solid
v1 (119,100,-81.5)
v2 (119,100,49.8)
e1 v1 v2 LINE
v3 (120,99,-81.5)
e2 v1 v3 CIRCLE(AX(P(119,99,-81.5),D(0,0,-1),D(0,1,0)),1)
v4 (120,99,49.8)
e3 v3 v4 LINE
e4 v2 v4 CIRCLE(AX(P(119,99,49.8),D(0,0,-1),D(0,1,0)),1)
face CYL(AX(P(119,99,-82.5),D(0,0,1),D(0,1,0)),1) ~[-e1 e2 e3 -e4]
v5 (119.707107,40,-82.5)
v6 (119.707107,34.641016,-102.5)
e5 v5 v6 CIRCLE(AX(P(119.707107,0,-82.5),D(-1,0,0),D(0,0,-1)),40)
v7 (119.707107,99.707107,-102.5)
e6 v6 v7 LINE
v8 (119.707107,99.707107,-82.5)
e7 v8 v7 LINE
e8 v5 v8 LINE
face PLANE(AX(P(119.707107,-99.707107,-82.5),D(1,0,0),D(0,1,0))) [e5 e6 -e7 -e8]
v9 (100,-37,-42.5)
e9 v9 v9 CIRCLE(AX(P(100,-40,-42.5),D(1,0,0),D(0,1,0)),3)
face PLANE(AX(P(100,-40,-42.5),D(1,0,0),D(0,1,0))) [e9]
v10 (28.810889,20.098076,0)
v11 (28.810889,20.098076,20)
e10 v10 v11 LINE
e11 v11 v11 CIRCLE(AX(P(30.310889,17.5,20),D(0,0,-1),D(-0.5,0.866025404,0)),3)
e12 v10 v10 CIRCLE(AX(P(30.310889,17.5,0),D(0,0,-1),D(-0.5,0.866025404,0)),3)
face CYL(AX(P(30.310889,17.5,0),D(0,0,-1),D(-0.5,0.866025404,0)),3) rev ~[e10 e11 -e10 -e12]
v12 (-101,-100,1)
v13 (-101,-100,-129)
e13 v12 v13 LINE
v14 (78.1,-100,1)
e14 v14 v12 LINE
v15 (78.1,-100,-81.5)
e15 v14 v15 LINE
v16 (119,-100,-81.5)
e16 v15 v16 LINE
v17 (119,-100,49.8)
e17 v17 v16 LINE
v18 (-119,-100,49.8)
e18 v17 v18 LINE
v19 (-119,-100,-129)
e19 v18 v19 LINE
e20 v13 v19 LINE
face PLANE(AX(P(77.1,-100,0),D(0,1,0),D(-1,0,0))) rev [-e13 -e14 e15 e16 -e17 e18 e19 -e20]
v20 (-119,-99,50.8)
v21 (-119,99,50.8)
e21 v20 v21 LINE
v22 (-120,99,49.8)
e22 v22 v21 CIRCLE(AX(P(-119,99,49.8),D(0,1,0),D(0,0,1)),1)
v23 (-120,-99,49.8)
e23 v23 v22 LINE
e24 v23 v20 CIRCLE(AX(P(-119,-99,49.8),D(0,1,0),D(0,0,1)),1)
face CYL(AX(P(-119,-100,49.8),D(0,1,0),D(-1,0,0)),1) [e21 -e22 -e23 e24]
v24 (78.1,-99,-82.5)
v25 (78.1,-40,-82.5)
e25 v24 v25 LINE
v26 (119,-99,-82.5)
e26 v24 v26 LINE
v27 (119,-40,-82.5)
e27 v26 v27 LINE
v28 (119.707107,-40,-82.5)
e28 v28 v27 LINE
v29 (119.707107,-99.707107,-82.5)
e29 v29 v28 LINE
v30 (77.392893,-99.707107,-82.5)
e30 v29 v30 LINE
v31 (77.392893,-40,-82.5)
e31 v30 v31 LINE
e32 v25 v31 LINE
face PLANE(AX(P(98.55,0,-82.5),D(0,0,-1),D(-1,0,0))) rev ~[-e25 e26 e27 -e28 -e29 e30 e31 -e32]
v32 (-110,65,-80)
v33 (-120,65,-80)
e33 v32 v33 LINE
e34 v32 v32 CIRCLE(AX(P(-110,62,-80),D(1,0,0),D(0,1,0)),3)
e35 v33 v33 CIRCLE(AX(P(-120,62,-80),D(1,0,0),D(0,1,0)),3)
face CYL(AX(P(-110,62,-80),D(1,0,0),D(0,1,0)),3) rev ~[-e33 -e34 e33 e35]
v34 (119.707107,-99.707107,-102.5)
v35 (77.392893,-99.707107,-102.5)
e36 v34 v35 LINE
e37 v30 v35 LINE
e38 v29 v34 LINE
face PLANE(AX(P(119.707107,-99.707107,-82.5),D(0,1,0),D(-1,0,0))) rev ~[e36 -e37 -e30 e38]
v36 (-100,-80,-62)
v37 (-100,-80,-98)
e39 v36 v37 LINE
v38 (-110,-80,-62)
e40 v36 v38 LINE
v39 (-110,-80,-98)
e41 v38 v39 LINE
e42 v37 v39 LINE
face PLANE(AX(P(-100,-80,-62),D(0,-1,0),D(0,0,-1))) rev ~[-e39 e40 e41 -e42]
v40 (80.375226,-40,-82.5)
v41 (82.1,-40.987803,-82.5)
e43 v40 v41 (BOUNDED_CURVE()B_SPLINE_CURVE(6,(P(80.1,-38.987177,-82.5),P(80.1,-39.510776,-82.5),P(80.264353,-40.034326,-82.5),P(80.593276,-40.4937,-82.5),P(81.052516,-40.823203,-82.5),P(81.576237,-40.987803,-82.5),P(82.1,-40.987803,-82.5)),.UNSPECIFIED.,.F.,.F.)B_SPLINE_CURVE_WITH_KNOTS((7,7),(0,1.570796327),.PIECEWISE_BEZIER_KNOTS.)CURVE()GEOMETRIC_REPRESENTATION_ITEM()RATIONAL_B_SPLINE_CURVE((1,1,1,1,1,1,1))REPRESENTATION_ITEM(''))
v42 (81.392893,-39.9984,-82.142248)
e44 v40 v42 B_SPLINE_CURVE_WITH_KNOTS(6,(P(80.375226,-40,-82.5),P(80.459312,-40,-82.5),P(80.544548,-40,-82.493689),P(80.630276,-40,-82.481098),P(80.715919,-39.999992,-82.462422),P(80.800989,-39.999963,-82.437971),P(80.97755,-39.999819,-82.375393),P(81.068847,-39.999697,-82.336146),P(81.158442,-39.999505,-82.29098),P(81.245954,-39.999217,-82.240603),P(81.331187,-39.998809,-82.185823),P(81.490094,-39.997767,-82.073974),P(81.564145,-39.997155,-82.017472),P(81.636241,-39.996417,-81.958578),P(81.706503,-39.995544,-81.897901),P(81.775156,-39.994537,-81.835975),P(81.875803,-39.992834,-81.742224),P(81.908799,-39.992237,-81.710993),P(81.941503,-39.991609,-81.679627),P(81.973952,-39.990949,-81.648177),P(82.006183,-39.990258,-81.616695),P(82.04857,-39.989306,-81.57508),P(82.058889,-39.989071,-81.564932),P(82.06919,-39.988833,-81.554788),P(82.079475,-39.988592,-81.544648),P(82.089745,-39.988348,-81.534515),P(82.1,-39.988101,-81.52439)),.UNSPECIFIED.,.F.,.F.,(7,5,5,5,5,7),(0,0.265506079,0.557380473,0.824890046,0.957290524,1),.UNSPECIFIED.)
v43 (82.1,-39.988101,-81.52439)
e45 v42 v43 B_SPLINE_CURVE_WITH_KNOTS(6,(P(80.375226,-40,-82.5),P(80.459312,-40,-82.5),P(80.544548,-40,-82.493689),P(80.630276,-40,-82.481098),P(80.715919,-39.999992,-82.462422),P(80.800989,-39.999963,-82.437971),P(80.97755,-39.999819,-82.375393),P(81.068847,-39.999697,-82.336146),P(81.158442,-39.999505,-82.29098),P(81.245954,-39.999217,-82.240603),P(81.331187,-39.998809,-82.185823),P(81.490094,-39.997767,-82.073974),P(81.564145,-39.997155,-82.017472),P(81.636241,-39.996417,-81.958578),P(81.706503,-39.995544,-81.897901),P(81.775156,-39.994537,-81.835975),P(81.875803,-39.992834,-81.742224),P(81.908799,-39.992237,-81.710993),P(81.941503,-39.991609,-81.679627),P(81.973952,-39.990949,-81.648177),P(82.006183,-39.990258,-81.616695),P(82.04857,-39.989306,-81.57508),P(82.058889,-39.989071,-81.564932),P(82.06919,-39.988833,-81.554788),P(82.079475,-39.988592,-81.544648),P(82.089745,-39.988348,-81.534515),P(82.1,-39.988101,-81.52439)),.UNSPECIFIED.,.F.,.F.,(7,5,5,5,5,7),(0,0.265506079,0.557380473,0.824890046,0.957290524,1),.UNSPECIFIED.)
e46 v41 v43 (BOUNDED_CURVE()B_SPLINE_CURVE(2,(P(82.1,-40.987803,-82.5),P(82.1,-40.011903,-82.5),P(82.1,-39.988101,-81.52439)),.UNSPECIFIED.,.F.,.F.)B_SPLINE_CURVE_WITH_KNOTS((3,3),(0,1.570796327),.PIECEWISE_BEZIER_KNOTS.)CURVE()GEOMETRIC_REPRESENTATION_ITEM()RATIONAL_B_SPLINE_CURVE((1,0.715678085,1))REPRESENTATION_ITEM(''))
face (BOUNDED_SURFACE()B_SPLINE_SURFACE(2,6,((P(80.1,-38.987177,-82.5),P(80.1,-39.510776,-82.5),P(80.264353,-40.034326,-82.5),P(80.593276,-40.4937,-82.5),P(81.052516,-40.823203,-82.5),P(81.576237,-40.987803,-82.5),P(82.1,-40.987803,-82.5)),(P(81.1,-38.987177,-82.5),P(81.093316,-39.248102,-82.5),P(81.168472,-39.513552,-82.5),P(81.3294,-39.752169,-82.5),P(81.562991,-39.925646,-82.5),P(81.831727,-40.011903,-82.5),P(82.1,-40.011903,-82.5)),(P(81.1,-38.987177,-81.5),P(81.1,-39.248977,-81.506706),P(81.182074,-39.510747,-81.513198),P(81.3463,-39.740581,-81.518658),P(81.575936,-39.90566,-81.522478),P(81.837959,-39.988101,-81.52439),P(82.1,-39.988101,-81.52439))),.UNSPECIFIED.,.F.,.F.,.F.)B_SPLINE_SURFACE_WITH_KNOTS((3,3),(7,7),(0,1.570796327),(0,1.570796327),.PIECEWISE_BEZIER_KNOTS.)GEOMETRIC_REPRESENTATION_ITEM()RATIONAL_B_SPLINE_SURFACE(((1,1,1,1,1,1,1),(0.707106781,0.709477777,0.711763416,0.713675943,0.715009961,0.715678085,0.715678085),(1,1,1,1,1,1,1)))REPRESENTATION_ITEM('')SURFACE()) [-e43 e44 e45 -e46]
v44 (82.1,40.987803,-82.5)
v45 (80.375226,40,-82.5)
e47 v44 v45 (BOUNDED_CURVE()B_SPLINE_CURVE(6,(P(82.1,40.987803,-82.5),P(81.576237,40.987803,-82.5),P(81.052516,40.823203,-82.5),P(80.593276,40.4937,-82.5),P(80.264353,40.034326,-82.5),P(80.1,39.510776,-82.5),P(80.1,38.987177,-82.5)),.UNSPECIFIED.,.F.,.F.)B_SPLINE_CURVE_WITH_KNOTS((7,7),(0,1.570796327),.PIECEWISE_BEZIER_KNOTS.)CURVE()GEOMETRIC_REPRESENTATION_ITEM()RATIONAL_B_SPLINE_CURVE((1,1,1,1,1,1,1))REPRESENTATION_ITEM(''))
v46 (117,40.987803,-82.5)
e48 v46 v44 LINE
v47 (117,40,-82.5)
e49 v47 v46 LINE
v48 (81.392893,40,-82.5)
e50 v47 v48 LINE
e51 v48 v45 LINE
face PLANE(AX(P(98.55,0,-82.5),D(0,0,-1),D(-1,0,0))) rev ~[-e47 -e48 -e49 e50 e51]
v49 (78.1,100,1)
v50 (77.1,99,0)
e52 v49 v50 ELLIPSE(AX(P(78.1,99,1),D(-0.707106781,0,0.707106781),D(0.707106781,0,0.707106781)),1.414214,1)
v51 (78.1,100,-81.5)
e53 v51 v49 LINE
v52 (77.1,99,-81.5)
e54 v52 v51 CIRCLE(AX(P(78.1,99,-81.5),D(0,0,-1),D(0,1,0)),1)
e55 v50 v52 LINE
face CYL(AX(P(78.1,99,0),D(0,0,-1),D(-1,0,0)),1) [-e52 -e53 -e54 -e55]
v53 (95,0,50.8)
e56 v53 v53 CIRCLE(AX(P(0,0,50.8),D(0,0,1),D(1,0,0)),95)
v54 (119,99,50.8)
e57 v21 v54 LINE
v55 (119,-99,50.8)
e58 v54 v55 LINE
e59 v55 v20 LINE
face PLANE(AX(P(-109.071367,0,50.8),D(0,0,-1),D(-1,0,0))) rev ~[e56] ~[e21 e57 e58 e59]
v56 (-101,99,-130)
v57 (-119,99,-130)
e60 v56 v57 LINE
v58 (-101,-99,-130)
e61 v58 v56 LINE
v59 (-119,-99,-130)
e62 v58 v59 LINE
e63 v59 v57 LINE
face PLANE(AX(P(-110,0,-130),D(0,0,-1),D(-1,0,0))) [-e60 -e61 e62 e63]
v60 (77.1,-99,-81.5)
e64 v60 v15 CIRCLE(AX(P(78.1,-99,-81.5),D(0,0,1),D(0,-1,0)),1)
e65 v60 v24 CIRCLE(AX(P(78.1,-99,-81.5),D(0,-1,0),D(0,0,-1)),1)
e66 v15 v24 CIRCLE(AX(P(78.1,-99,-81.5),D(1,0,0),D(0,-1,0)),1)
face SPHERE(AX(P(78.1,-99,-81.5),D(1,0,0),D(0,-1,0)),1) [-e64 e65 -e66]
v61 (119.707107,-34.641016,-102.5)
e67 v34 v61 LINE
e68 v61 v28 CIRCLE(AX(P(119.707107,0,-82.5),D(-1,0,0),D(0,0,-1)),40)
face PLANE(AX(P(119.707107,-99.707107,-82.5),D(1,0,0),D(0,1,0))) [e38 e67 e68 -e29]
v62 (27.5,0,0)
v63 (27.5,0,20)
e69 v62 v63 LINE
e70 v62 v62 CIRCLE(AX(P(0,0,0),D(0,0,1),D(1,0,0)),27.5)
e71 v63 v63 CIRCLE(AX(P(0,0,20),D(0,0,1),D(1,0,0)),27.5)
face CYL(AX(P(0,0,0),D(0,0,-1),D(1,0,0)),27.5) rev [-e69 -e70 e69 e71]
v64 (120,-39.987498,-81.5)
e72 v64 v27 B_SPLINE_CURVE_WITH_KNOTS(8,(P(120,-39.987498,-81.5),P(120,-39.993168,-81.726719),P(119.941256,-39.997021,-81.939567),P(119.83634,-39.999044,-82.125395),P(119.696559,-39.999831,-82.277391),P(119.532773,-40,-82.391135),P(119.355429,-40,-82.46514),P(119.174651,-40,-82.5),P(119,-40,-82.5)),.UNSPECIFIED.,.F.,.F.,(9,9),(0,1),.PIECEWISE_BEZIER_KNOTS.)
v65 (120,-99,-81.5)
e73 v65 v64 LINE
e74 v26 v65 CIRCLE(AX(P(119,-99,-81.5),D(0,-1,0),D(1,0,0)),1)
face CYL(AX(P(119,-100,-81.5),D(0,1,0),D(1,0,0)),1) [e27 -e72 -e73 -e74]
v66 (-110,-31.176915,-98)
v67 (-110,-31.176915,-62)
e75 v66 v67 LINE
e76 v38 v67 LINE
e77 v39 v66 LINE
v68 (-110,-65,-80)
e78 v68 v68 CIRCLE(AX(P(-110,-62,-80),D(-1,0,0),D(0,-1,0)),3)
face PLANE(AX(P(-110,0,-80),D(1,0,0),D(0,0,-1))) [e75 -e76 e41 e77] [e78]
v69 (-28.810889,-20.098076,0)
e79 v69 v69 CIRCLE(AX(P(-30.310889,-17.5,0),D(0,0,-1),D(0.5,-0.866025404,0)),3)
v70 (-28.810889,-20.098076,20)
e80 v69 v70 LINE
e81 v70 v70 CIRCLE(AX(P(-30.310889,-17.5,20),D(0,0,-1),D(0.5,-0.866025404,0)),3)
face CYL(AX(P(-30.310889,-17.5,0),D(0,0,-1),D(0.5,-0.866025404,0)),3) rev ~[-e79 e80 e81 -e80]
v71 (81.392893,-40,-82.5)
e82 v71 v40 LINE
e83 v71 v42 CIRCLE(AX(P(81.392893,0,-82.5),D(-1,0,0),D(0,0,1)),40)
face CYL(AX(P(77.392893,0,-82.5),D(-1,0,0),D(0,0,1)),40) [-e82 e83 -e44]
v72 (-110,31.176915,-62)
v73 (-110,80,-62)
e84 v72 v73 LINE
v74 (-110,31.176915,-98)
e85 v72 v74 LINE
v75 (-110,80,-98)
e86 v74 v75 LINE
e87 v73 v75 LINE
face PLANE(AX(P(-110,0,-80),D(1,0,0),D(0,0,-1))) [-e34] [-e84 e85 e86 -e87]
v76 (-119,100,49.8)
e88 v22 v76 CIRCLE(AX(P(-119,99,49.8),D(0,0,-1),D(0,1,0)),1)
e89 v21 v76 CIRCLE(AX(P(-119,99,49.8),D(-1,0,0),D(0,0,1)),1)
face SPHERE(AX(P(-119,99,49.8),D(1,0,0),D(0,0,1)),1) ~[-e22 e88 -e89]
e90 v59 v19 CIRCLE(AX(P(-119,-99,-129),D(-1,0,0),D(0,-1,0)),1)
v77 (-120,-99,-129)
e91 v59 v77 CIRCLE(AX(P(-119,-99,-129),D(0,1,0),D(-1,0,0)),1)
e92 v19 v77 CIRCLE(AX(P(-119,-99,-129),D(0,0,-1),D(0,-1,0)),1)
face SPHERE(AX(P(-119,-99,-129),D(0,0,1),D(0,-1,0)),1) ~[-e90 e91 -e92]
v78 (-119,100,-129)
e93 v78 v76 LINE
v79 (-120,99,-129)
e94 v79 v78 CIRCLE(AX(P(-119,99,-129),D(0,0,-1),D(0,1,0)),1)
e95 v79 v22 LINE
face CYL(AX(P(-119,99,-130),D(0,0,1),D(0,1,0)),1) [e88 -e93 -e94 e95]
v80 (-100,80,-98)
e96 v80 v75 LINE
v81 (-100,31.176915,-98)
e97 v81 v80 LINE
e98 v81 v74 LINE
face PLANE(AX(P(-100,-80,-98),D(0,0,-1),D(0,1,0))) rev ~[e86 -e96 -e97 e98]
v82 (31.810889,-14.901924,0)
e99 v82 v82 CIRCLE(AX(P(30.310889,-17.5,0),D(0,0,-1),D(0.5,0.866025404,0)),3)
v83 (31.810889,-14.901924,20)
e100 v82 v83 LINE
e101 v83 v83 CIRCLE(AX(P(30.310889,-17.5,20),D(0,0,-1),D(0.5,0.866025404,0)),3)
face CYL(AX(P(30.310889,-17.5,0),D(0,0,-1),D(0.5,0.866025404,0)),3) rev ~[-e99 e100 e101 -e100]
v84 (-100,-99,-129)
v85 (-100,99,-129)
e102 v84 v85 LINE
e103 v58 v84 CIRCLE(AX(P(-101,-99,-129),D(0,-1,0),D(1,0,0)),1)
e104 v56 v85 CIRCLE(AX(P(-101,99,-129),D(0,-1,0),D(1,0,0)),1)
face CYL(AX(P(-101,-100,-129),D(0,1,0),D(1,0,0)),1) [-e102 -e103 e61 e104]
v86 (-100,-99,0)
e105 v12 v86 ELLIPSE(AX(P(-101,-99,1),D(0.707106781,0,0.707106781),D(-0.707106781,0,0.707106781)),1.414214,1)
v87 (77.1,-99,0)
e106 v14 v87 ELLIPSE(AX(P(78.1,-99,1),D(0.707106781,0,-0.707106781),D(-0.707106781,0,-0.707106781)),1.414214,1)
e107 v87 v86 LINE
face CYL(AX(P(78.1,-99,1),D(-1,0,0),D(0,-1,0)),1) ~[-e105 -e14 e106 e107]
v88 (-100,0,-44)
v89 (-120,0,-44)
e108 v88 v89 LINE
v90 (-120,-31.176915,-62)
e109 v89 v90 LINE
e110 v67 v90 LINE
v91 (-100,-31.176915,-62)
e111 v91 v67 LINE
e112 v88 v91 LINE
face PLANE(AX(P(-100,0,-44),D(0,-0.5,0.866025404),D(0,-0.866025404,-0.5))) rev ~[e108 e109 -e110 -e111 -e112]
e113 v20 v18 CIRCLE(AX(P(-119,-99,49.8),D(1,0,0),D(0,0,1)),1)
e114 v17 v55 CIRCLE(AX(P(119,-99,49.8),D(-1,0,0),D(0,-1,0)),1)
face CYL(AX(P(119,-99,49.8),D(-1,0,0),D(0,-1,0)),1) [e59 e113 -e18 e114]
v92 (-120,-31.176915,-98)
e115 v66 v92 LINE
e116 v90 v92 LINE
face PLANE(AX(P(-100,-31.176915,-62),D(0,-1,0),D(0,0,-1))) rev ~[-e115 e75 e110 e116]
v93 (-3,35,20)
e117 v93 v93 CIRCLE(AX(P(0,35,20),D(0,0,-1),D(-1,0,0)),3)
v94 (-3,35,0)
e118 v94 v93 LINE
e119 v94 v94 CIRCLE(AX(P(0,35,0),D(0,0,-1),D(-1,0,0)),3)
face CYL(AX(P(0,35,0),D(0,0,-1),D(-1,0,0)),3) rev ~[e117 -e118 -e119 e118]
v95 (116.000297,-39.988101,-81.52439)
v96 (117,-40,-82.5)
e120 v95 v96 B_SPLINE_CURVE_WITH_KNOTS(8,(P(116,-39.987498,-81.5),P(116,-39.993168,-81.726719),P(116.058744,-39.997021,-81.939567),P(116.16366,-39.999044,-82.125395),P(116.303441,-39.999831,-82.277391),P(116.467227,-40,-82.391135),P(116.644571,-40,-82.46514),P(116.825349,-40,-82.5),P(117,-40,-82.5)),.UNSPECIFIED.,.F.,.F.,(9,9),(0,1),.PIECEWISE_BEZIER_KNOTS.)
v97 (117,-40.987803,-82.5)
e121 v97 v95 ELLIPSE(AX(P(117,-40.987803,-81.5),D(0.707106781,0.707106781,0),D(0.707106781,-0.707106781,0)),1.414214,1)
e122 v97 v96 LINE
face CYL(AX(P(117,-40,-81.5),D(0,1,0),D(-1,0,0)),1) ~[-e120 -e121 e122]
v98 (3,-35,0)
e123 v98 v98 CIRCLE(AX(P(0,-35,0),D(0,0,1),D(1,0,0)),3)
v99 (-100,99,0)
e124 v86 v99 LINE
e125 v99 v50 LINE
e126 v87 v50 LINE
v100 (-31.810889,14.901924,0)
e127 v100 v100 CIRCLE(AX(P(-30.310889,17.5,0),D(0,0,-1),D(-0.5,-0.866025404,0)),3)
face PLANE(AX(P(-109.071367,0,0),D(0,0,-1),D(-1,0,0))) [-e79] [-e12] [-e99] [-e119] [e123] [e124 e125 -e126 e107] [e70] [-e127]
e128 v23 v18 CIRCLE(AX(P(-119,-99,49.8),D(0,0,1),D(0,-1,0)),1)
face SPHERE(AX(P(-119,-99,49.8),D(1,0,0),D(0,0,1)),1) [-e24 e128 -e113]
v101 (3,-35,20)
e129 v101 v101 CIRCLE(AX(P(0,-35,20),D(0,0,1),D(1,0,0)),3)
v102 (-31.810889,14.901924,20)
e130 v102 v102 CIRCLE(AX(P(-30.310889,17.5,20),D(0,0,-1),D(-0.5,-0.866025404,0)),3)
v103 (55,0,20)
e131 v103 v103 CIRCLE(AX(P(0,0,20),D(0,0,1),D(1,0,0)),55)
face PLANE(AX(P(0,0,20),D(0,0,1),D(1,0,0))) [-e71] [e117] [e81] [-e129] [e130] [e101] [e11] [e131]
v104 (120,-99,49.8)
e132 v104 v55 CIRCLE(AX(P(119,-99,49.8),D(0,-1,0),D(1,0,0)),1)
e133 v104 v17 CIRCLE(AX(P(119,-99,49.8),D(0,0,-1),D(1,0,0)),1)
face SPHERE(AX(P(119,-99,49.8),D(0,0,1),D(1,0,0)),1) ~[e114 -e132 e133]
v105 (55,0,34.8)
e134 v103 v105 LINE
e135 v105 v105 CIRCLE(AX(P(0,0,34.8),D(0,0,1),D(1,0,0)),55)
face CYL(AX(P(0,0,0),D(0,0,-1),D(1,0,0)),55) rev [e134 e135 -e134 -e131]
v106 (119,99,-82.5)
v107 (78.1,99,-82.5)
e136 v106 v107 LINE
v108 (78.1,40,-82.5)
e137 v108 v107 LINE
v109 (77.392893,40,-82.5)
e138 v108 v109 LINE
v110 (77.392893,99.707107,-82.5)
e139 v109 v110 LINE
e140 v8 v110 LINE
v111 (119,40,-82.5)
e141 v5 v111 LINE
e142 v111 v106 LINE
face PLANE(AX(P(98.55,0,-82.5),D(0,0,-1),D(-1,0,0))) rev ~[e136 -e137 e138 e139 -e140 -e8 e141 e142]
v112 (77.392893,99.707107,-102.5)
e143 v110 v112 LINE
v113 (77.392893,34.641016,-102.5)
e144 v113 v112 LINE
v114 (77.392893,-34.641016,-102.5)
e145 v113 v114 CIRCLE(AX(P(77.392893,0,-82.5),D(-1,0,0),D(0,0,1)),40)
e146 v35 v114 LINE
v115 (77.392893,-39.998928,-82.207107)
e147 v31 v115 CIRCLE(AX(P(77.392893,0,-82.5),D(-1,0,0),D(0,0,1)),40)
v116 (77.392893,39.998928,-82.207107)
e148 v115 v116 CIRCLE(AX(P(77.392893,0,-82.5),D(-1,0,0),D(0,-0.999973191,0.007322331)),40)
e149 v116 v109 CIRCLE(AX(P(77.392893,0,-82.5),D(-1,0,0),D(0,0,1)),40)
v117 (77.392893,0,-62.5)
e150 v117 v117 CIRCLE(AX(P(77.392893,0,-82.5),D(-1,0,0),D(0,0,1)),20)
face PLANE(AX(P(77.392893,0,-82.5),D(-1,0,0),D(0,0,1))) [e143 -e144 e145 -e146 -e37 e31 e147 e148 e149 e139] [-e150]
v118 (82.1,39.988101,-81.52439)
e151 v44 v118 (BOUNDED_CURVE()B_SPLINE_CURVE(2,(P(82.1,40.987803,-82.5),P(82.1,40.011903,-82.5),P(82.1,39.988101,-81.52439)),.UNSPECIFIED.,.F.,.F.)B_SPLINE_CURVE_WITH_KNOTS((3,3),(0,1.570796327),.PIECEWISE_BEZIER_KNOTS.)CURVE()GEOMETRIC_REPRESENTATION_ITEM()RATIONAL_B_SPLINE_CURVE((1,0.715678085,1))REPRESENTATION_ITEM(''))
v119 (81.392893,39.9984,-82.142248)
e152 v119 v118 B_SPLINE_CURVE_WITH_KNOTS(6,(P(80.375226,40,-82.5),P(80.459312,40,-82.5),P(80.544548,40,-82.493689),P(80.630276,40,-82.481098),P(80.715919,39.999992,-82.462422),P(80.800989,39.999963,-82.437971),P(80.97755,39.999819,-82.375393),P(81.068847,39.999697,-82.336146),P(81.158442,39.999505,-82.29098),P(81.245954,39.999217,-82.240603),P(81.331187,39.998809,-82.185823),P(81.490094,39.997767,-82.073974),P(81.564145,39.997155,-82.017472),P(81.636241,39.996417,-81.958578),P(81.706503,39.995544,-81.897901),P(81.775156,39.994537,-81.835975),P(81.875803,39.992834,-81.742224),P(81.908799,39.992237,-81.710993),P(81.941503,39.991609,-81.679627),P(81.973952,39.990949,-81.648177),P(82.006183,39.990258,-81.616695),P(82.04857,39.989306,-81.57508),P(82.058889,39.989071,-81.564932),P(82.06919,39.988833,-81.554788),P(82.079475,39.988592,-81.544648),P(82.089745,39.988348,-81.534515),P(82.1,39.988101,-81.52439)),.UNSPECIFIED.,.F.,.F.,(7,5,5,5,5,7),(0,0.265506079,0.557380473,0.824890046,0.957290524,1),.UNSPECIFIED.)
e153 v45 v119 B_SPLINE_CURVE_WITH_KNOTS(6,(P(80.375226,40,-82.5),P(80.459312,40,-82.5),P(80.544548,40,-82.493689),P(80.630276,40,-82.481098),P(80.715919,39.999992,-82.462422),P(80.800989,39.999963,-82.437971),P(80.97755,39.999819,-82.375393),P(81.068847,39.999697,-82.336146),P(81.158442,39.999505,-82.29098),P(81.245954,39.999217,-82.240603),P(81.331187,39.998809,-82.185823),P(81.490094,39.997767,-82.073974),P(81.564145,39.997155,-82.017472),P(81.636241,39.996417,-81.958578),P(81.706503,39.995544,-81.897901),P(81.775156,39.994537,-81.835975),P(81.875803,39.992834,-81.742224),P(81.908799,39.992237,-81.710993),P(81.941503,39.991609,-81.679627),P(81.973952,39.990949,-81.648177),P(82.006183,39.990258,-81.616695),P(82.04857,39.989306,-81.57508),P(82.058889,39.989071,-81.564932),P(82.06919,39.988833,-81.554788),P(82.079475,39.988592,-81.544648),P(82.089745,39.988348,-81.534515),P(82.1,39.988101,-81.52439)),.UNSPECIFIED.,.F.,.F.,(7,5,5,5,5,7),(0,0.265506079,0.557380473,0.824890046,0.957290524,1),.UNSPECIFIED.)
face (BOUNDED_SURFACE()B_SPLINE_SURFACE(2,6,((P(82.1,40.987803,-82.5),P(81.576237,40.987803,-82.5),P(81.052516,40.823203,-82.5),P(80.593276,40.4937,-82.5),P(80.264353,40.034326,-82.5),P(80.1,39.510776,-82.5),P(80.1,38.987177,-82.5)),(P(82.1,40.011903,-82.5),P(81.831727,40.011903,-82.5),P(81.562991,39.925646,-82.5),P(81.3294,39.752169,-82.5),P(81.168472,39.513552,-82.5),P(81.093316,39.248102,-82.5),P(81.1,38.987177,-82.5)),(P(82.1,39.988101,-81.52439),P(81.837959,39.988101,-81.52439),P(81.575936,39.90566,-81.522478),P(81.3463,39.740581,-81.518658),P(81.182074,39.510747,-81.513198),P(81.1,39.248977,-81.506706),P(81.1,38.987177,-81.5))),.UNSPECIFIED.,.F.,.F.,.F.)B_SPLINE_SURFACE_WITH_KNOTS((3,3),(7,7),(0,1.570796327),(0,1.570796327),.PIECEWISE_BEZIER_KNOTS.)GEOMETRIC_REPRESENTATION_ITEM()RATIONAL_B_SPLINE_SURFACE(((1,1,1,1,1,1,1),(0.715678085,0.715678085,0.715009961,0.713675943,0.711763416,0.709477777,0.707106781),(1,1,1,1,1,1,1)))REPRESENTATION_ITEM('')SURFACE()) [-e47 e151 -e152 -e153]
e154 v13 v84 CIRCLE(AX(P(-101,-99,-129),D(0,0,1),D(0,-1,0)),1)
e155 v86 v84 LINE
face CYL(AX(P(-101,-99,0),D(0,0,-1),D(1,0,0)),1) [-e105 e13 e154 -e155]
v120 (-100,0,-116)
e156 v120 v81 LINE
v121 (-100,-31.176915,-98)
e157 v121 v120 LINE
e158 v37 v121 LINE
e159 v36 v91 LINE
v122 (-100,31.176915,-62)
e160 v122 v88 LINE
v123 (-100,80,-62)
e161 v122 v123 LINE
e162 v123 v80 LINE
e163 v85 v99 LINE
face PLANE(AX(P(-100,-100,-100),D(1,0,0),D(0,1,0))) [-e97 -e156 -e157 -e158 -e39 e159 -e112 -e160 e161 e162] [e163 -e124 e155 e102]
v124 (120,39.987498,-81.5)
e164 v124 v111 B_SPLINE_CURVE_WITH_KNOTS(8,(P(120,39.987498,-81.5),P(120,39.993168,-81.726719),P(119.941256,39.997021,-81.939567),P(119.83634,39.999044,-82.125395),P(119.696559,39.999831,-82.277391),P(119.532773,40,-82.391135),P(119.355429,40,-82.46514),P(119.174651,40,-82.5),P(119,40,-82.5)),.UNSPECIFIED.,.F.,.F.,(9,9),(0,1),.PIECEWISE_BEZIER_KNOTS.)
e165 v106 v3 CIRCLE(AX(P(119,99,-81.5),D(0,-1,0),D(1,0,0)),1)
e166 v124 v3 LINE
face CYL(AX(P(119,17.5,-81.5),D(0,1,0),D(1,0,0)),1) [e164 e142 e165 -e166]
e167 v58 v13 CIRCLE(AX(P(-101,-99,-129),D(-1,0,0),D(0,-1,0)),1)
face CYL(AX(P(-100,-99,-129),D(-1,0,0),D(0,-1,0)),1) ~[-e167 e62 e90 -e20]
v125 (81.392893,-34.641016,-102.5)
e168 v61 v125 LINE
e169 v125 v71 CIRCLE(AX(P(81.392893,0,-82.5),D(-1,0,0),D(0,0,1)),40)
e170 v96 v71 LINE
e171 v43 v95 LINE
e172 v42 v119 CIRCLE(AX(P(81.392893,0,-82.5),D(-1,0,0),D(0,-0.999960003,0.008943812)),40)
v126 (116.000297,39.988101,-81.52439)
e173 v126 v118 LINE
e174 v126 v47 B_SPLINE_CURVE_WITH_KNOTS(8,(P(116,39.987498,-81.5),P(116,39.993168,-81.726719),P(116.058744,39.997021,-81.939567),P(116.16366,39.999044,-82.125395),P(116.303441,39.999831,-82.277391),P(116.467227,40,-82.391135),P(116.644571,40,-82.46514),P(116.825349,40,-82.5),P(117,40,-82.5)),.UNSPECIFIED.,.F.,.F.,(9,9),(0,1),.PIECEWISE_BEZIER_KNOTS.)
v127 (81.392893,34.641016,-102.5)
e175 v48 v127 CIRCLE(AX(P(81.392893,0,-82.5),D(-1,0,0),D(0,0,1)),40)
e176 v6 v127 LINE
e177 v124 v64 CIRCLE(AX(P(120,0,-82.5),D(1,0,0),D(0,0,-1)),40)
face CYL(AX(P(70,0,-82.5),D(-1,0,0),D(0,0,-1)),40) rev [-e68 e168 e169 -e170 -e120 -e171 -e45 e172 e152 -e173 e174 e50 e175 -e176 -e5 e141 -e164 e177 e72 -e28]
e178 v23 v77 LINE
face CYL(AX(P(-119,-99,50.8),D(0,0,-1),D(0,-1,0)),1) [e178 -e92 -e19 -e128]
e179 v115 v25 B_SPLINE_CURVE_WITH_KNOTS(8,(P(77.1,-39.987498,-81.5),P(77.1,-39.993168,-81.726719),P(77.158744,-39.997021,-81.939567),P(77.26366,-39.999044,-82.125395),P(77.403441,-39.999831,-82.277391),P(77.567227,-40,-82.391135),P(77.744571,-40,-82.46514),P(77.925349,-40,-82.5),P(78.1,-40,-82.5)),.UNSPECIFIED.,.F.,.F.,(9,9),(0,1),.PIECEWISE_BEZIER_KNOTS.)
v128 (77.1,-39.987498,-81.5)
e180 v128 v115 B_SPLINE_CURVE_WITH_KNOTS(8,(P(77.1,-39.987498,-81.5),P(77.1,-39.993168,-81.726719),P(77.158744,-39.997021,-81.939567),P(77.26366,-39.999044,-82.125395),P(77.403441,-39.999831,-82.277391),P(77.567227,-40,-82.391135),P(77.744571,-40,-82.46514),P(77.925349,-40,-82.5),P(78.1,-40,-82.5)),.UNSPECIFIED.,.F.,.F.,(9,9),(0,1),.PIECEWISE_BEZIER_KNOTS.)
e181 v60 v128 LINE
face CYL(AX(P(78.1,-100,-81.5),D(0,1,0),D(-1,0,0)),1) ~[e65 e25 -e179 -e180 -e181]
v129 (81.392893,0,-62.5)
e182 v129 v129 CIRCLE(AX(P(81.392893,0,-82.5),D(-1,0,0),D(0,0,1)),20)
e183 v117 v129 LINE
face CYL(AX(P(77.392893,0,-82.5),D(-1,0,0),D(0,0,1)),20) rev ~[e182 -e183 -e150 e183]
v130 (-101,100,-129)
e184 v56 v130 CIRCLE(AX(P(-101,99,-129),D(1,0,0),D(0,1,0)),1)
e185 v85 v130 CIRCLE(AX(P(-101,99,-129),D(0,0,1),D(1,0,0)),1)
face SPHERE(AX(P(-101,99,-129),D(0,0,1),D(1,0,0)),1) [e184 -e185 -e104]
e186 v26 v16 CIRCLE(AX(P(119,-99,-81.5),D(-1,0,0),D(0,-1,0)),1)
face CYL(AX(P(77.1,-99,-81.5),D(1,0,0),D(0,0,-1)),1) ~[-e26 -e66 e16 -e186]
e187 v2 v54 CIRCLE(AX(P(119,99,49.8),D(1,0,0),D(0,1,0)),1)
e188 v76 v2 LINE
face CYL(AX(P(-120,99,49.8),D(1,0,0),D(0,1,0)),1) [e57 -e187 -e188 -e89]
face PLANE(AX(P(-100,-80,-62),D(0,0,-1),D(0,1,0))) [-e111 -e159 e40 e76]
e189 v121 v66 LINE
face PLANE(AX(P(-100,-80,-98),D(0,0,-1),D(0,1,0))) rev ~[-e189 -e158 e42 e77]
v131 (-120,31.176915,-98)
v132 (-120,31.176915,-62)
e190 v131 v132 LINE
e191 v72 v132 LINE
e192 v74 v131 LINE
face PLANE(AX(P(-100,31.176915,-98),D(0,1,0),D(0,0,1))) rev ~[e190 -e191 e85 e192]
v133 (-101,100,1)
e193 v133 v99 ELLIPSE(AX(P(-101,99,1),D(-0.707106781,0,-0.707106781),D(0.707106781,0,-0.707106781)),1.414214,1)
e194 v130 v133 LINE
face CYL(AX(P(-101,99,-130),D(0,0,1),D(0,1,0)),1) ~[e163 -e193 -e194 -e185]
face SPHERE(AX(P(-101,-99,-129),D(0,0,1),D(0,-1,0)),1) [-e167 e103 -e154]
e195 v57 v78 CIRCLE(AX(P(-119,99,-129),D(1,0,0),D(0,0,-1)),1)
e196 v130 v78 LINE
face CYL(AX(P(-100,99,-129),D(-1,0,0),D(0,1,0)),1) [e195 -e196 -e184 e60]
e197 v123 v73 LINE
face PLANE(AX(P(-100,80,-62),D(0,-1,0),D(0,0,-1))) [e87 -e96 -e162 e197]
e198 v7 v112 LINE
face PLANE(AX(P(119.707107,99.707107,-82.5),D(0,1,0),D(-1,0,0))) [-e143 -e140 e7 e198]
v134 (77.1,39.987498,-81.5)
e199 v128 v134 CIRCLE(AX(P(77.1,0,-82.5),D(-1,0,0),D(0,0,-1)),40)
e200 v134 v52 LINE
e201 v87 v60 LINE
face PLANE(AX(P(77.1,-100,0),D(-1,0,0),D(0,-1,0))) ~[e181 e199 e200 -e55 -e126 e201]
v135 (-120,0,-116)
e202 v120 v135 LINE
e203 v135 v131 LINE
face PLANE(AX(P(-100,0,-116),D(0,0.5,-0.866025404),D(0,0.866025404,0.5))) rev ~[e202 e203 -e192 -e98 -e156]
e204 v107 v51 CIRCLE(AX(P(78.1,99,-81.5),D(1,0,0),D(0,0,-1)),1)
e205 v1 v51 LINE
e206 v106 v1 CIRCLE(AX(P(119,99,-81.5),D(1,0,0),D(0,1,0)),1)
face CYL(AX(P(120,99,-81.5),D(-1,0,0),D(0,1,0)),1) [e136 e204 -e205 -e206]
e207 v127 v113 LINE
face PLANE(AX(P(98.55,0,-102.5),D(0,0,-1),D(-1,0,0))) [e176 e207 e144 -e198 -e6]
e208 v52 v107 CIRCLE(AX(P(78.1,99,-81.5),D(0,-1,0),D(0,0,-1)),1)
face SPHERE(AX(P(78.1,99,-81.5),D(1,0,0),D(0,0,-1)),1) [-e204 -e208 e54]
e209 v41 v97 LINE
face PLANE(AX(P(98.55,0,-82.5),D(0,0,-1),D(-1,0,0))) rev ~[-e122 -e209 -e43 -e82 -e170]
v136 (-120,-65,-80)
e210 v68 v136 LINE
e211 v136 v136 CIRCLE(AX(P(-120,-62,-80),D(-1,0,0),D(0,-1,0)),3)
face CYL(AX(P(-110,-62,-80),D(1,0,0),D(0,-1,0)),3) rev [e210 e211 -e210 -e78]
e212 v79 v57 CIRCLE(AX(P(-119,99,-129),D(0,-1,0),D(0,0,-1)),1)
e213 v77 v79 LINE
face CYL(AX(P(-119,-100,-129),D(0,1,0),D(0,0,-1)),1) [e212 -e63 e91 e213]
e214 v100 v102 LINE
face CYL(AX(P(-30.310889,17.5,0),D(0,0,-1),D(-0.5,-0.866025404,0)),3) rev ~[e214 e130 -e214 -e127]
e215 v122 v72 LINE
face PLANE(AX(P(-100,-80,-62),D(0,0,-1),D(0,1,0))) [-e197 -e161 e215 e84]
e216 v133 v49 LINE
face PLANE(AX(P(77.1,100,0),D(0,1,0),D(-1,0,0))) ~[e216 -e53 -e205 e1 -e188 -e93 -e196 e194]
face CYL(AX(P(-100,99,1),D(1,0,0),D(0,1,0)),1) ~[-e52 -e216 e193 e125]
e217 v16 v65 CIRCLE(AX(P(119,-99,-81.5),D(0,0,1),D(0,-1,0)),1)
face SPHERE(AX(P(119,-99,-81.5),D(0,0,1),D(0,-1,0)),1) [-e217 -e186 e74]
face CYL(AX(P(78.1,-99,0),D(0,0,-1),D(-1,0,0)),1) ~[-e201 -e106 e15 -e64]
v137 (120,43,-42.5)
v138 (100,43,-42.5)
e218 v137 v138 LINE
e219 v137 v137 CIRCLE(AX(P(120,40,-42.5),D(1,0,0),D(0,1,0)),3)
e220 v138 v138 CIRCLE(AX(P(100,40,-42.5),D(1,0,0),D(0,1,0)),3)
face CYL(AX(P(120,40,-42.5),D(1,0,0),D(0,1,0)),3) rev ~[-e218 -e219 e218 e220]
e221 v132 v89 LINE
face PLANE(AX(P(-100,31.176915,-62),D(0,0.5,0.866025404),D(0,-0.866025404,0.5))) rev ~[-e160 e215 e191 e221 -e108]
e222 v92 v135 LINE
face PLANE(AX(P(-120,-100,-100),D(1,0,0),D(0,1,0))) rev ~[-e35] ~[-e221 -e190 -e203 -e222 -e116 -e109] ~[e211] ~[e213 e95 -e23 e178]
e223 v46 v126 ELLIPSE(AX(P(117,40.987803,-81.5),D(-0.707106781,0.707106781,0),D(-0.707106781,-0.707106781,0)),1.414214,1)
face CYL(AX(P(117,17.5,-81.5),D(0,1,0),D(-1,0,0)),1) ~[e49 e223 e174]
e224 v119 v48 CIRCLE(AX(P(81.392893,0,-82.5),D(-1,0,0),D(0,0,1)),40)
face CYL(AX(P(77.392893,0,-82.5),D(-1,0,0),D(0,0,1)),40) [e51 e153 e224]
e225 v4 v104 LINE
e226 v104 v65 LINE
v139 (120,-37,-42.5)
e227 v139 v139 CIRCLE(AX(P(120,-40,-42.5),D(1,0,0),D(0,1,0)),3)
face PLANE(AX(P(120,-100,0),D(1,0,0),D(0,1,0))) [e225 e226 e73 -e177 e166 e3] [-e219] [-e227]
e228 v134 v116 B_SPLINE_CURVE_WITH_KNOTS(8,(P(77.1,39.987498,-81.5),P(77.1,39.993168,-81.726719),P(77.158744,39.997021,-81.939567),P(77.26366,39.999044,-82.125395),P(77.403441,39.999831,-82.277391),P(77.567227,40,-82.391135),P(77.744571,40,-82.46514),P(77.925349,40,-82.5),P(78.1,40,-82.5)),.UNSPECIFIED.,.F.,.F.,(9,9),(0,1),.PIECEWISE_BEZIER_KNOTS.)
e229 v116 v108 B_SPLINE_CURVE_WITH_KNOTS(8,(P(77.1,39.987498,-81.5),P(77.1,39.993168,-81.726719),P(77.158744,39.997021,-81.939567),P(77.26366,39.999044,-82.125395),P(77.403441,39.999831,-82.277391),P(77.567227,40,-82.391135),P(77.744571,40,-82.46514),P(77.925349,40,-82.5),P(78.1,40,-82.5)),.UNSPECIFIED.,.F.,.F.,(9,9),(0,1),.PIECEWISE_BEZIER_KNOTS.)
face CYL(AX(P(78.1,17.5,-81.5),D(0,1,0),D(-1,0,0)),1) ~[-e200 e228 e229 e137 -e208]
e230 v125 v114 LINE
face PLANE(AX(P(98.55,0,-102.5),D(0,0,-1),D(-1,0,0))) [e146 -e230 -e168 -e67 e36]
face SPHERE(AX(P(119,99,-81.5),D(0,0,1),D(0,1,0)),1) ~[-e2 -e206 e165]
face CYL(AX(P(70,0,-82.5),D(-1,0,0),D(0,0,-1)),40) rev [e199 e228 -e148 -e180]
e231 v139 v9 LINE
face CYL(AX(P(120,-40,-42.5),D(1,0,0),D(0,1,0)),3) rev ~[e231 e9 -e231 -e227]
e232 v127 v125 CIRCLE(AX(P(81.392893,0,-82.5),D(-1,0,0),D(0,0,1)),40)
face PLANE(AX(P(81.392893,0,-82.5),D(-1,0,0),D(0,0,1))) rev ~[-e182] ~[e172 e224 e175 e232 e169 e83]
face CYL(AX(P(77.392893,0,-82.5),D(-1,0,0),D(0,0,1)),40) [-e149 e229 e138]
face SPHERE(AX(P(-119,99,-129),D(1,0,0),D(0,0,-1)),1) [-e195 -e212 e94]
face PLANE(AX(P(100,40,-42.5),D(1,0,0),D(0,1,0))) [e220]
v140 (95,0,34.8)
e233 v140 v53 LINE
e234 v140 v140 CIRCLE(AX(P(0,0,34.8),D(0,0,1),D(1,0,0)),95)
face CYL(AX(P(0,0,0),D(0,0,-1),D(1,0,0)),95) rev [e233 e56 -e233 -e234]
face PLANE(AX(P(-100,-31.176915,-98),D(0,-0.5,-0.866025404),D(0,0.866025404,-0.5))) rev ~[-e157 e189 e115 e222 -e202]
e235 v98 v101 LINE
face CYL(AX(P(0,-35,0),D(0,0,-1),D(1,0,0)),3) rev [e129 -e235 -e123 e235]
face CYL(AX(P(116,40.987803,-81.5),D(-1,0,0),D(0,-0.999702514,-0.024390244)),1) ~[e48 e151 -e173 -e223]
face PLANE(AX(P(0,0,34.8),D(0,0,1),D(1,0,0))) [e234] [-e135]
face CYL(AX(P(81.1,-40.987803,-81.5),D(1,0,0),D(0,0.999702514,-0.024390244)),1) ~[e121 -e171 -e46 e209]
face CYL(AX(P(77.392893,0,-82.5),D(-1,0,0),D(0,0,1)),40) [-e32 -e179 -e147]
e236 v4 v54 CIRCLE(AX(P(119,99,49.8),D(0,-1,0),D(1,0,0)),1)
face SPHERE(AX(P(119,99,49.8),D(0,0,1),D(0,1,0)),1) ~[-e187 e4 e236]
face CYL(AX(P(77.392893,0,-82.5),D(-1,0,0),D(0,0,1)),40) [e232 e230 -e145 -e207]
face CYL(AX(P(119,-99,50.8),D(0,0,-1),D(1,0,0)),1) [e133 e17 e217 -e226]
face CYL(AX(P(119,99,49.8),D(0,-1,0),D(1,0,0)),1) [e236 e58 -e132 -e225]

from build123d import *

# Parameters (mm, degrees)
SKETCH_1_R               = 100
SKETCH_1_R_2             = 95
EXTRUDE_1_DEPTH          = 50.8
SKETCH_2_R               = 95
SKETCH_2_R_2             = 55
EXTRUDE_2_DEPTH          = 34.8
SKETCH_4_R               = 55
SKETCH_4_R_2             = 3
SKETCH_4_R_3             = 27.5
EXTRUDE_3_DEPTH          = 20
SKETCH_5_R               = 3
CUT_EXTRUDE_2_DEPTH      = 20
PATTERN_CIRCULAR_3_COUNT = 6
EXTRUDE_4_DEPTH          = 50.8
SKETCH_7_W               = 80
SKETCH_7_H               = 200
EXTRUDE_5_DEPTH          = 100
SKETCH_8_W               = 80
SKETCH_8_H               = 200
CUT_EXTRUDE_3_DEPTH      = 100
CUT_EXTRUDE_5_DEPTH      = 218.118953572
CUT_EXTRUDE_5_DEPTH_BACK = 100
SKETCH_11_W              = 60
SKETCH_11_H              = 200
SKETCH_15_W              = 20
SKETCH_15_H              = 200
EXTRUDE_6_DEPTH          = 30
CUT_EXTRUDE_13_DEPTH     = 20
SKETCH_19_W              = 36
SKETCH_19_H              = 160
CUT_EXTRUDE_14_DEPTH     = 10
SKETCH_20_R              = 3
CUT_EXTRUDE_15_DEPTH     = 10
SKETCH_21_W              = 21.45
SKETCH_21_H              = 200
EXTRUDE_9_DEPTH          = 82.5
SKETCH_26_R              = 40
CUT_EXTRUDE_19_DEPTH     = 17.45
SKETCH_27_R              = 17.5
CUT_EXTRUDE_20_DEPTH     = 17.45
FILLET_1_R               = 1
FILLET_2_R               = 1
SKETCH_31_W              = 42.314213562
SKETCH_31_H              = 199.414213562
EXTRUDE_11_DEPTH         = 20
CUT_EXTRUDE_START        = -50
SKETCH_32_R              = 40
CUT_EXTRUDE_23_DEPTH     = 50
SKETCH_33_R              = 40
EXTRUDE_12_DEPTH         = 4
SKETCH_34_R              = 20
CUT_EXTRUDE_24_DEPTH     = 4
SKETCH_39_R              = 3
CUT_EXTRUDE_26_DEPTH     = 20


with BuildPart() as part:
    # 草图1 → 凸台-拉伸1 (new body)
    with BuildSketch(Plane.XY):
        Circle(SKETCH_1_R)
        Circle(SKETCH_1_R_2, mode=Mode.SUBTRACT)
    extrude(amount=EXTRUDE_1_DEPTH)

    # 草图2 → 凸台-拉伸2 (add)
    with BuildSketch(Plane.XY):
        Circle(SKETCH_2_R)
        Circle(SKETCH_2_R_2, mode=Mode.SUBTRACT)
    extrude(amount=EXTRUDE_2_DEPTH)

    # 草图4 → 凸台-拉伸3 (add)
    with BuildSketch(Plane.XY):
        Circle(SKETCH_4_R)
        with Locations((0, -35)):
            Circle(SKETCH_4_R_2, mode=Mode.SUBTRACT)
        Circle(SKETCH_4_R_3, mode=Mode.SUBTRACT)
    extrude(amount=EXTRUDE_3_DEPTH)

    # 草图5 → 切除-拉伸2 (cut)
    with BuildSketch(Plane(origin=(0, 0, 0), x_dir=(-1, 0, 0), z_dir=(0, 0, -1))):
        with Locations((0, 35)):
            Circle(SKETCH_5_R)
    cut_extrude_2 = extrude(amount=-CUT_EXTRUDE_2_DEPTH, mode=Mode.SUBTRACT)

    # 阵列(圆周)3: 切除-拉伸2 ×6 about axis
    pattern_circular_3_axis = Axis((0, 0, 0), (0, 0, 1))
    for i in range(1, PATTERN_CIRCULAR_3_COUNT):
        add(cut_extrude_2.rotate(pattern_circular_3_axis, i * 360 / PATTERN_CIRCULAR_3_COUNT), mode=Mode.SUBTRACT)

    # 草图6 → 凸台-拉伸4 (add)
    with BuildSketch(Plane(origin=(0, 0, 0), x_dir=(-1, 0, 0), z_dir=(0, 0, -1))):
        with BuildLine():
            ThreePointArc((100, 0), (70.71067814, -70.710678097), (6.1e-08, -100))
            Line((6.1e-08, -100), (200, -100))
            Line((200, -100), (200, 100))
            Line((200, 100), (0, 100))
            ThreePointArc((0, 100), (70.710678119, 70.710678119), (100, 0))
        make_face()
        with BuildLine():
            Line((-200, 100), (-200, -100))
            Line((-200, -100), (6.1e-08, -100))
            ThreePointArc((6.1e-08, -100), (-100, -3e-08), (0, 100))
            Line((0, 100), (-200, 100))
        make_face()
    extrude(amount=-EXTRUDE_4_DEPTH)

    # 草图7 → 凸台-拉伸5 (add)
    with BuildSketch(Plane(origin=(0, 0, 0), x_dir=(-1, 0, 0), z_dir=(0, 0, -1))):
        with Locations((80, 0)):
            Rectangle(SKETCH_7_W, SKETCH_7_H)
    extrude(amount=EXTRUDE_5_DEPTH)

    # 草图8 → 切除-拉伸3 (cut)
    with BuildSketch(Plane(origin=(0, 0, 0), x_dir=(-1, 0, 0), z_dir=(0, 0, -1))):
        with Locations((160, 0)):
            Rectangle(SKETCH_8_W, SKETCH_8_H)
    cut_extrude_3 = extrude(amount=-CUT_EXTRUDE_3_DEPTH, mode=Mode.SUBTRACT)

    # 镜向2: 切除-拉伸3 across plane
    add(cut_extrude_3.mirror(Plane(origin=(0, 0, 0), x_dir=(0, 0, 1), z_dir=(1, 0, 0))), mode=Mode.SUBTRACT)

    # 草图11 → 切除-拉伸5 (cut, two sides: drawn at the far end of the back side and taken through both)
    with BuildSketch(Plane(origin=(0, 0, -100), x_dir=(-1, 0, 0), z_dir=(0, 0, -1)).offset(-CUT_EXTRUDE_5_DEPTH_BACK)):
        with Locations((70, 0)):
            Rectangle(SKETCH_11_W, SKETCH_11_H)
    extrude(amount=CUT_EXTRUDE_5_DEPTH + CUT_EXTRUDE_5_DEPTH_BACK, mode=Mode.SUBTRACT)

    # 草图15 → 凸台-拉伸6 (add)
    with BuildSketch(Plane(origin=(0, 0, -100), x_dir=(-1, 0, 0), z_dir=(0, 0, -1))):
        with Locations((110, 0)):
            Rectangle(SKETCH_15_W, SKETCH_15_H)
    extrude(amount=EXTRUDE_6_DEPTH)

    # 草图16 → 切除-拉伸13 (cut)
    with BuildSketch(Plane(origin=(-100, 0, 0), x_dir=(0, 0, -1), z_dir=(1, 0, 0))):
        Polygon((80, 0), (44, 0), (62, -31.176914536), (80, -31.176914536), align=None)
        Polygon((62, 31.176914536), (44, 0), (80, 0), (80, 31.176914536), align=None)
        Polygon((80, 31.176914536), (80, 0), (116, 0), (98, 31.176914536), align=None)
        Polygon((116, 0), (80, 0), (80, -31.176914536), (98, -31.176914536), align=None)
    extrude(amount=-CUT_EXTRUDE_13_DEPTH, mode=Mode.SUBTRACT)

    # 草图19 → 切除-拉伸14 (cut)
    with BuildSketch(Plane(origin=(-100, 0, 0), x_dir=(0, 0, -1), z_dir=(1, 0, 0))):
        with Locations((80, 0)):
            Rectangle(SKETCH_19_W, SKETCH_19_H)
    extrude(amount=-CUT_EXTRUDE_14_DEPTH, mode=Mode.SUBTRACT)

    # 草图20 → 切除-拉伸15 (cut)
    with BuildSketch(Plane(origin=(-110, 0, 0), x_dir=(0, 0, -1), z_dir=(1, 0, 0))):
        with Locations(Location((80, 62, 0), (0, 0, 90))):
            Circle(SKETCH_20_R)
    cut_extrude_15 = extrude(amount=-CUT_EXTRUDE_15_DEPTH, mode=Mode.SUBTRACT)

    # 镜向6: 切除-拉伸15 across plane
    add(cut_extrude_15.mirror(Plane.ZX), mode=Mode.SUBTRACT)

    # 草图21 → 凸台-拉伸9 (add)
    with BuildSketch(Plane(origin=(0, 0, 0), x_dir=(-1, 0, 0), z_dir=(0, 0, -1))):
        with Locations((-109.275, 0)):
            Rectangle(SKETCH_21_W, SKETCH_21_H)
    extrude_9 = extrude(amount=EXTRUDE_9_DEPTH)

    # 草图26 → 切除-拉伸19 (cut)
    with BuildSketch(Plane.ZY.offset(-98.55)):
        with Locations((-82.5, 0)):
            Circle(SKETCH_26_R)
    cut_extrude_19 = extrude(amount=-CUT_EXTRUDE_19_DEPTH, mode=Mode.SUBTRACT)

    # 草图27 → 切除-拉伸20 (cut)
    with BuildSketch(Plane.ZY.offset(-116)):
        with Locations((-82.5, 0)):
            Circle(SKETCH_27_R)
    cut_extrude_20 = extrude(amount=-CUT_EXTRUDE_20_DEPTH, mode=Mode.SUBTRACT)

    # 镜向8: 凸台-拉伸9, 切除-拉伸19, 切除-拉伸20 across plane
    add(extrude_9.mirror(Plane(origin=(98.55, 0, 0), x_dir=(0, 0, 1), z_dir=(1, 0, 0))))
    add(cut_extrude_19.mirror(Plane(origin=(98.55, 0, 0), x_dir=(0, 0, 1), z_dir=(1, 0, 0))), mode=Mode.SUBTRACT)
    add(cut_extrude_20.mirror(Plane(origin=(98.55, 0, 0), x_dir=(0, 0, 1), z_dir=(1, 0, 0))), mode=Mode.SUBTRACT)

    # 圆角1
    fillet_1_edges = [part.edges().sort_by_distance(p)[0] for p in [
        (120, 100, -15.85),
        (120, -100, -15.85),
        (98.55, -100, -82.5),
        (98.55, 100, -82.5),
        (120, 58.75, -82.5),
        (116, -28.75, -82.5),
        (98.55, 40, -82.5),
        (98.55, -40, -82.5),
        (116, 28.75, -82.5),
        (116, 0, -65),
        (120, -58.75, -82.5),
        (120, 0, -65),
        (118, -17.5, -82.5),
        (118, 17.5, -82.5),
        (77.1, 58.75, -82.5),
        (77.1, -100, -41.25),
        (77.1, 100, -41.25),
        (81.1, 28.75, -82.5),
        (81.1, 0, -42.5),
        (81.1, -28.75, -82.5),
        (81.1, 0, -65),
        (77.1, -58.75, -82.5),
        (79.1, 17.5, -82.5),
        (77.1, 0, -65),
        (79.1, -17.5, -82.5),
    ]]
    fillet(fillet_1_edges, radius=FILLET_1_R)

    # 圆角2
    fillet_2_edges = [part.edges().sort_by_distance(p)[0] for p in [
        (119.707106781, -99.707106781, 50.8),
        (119.707106781, 99.707106781, 50.8),
        (-120, 0, 50.8),
        (-0.5, -100, 50.8),
        (-0.5, 100, 50.8),
        (120, 0, 50.8),
        (-10.95, -100, 0),
        (-10.95, 100, 0),
        (-100, -100, -65),
        (-120, -100, -39.6),
        (-110, -100, -130),
        (-100, 100, -65),
        (-100, 0, -130),
        (-110, 100, -130),
        (-120, 0, -130),
        (-120, 100, -39.6),
    ]]
    fillet(fillet_2_edges, radius=FILLET_2_R)

    # 草图31 → 凸台-拉伸11 (add)
    with BuildSketch(Plane(origin=(0, 0, -82.5), x_dir=(-1, 0, 0), z_dir=(0, 0, -1))):
        with Locations((-98.55, 0)):
            Rectangle(SKETCH_31_W, SKETCH_31_H)
    extrude(amount=EXTRUDE_11_DEPTH)

    # 草图32 → 切除-拉伸23 (cut)
    with BuildSketch(Plane(origin=(120, 0, 0), x_dir=(0, 0, -1), z_dir=(1, 0, 0)).offset(CUT_EXTRUDE_START)):
        with Locations((82.5, 0)):
            Circle(SKETCH_32_R)
    extrude(amount=CUT_EXTRUDE_23_DEPTH, mode=Mode.SUBTRACT)

    # 草图33 → 凸台-拉伸12 (add)
    with BuildSketch(Plane.ZY.offset(-77.392893219)):
        with Locations((-82.5, 0)):
            Circle(SKETCH_33_R)
    extrude(amount=-EXTRUDE_12_DEPTH)

    # 草图34 → 切除-拉伸24 (cut)
    with BuildSketch(Plane.ZY.offset(-77.392893219)):
        with Locations((-82.5, 0)):
            Circle(SKETCH_34_R)
    extrude(amount=-CUT_EXTRUDE_24_DEPTH, mode=Mode.SUBTRACT)

    # 草图39 → 切除-拉伸26 (cut)
    with BuildSketch(Plane(origin=(120, 0, 0), x_dir=(0, 0, -1), z_dir=(1, 0, 0))):
        with Locations(Location((42.5, 40, 0), (0, 0, 90))):
            Circle(SKETCH_39_R)
        with Locations(Location((42.5, -40, 0), (0, 0, 90))):
            Circle(SKETCH_39_R)
    extrude(amount=-CUT_EXTRUDE_26_DEPTH, mode=Mode.SUBTRACT)


solid = part.part
